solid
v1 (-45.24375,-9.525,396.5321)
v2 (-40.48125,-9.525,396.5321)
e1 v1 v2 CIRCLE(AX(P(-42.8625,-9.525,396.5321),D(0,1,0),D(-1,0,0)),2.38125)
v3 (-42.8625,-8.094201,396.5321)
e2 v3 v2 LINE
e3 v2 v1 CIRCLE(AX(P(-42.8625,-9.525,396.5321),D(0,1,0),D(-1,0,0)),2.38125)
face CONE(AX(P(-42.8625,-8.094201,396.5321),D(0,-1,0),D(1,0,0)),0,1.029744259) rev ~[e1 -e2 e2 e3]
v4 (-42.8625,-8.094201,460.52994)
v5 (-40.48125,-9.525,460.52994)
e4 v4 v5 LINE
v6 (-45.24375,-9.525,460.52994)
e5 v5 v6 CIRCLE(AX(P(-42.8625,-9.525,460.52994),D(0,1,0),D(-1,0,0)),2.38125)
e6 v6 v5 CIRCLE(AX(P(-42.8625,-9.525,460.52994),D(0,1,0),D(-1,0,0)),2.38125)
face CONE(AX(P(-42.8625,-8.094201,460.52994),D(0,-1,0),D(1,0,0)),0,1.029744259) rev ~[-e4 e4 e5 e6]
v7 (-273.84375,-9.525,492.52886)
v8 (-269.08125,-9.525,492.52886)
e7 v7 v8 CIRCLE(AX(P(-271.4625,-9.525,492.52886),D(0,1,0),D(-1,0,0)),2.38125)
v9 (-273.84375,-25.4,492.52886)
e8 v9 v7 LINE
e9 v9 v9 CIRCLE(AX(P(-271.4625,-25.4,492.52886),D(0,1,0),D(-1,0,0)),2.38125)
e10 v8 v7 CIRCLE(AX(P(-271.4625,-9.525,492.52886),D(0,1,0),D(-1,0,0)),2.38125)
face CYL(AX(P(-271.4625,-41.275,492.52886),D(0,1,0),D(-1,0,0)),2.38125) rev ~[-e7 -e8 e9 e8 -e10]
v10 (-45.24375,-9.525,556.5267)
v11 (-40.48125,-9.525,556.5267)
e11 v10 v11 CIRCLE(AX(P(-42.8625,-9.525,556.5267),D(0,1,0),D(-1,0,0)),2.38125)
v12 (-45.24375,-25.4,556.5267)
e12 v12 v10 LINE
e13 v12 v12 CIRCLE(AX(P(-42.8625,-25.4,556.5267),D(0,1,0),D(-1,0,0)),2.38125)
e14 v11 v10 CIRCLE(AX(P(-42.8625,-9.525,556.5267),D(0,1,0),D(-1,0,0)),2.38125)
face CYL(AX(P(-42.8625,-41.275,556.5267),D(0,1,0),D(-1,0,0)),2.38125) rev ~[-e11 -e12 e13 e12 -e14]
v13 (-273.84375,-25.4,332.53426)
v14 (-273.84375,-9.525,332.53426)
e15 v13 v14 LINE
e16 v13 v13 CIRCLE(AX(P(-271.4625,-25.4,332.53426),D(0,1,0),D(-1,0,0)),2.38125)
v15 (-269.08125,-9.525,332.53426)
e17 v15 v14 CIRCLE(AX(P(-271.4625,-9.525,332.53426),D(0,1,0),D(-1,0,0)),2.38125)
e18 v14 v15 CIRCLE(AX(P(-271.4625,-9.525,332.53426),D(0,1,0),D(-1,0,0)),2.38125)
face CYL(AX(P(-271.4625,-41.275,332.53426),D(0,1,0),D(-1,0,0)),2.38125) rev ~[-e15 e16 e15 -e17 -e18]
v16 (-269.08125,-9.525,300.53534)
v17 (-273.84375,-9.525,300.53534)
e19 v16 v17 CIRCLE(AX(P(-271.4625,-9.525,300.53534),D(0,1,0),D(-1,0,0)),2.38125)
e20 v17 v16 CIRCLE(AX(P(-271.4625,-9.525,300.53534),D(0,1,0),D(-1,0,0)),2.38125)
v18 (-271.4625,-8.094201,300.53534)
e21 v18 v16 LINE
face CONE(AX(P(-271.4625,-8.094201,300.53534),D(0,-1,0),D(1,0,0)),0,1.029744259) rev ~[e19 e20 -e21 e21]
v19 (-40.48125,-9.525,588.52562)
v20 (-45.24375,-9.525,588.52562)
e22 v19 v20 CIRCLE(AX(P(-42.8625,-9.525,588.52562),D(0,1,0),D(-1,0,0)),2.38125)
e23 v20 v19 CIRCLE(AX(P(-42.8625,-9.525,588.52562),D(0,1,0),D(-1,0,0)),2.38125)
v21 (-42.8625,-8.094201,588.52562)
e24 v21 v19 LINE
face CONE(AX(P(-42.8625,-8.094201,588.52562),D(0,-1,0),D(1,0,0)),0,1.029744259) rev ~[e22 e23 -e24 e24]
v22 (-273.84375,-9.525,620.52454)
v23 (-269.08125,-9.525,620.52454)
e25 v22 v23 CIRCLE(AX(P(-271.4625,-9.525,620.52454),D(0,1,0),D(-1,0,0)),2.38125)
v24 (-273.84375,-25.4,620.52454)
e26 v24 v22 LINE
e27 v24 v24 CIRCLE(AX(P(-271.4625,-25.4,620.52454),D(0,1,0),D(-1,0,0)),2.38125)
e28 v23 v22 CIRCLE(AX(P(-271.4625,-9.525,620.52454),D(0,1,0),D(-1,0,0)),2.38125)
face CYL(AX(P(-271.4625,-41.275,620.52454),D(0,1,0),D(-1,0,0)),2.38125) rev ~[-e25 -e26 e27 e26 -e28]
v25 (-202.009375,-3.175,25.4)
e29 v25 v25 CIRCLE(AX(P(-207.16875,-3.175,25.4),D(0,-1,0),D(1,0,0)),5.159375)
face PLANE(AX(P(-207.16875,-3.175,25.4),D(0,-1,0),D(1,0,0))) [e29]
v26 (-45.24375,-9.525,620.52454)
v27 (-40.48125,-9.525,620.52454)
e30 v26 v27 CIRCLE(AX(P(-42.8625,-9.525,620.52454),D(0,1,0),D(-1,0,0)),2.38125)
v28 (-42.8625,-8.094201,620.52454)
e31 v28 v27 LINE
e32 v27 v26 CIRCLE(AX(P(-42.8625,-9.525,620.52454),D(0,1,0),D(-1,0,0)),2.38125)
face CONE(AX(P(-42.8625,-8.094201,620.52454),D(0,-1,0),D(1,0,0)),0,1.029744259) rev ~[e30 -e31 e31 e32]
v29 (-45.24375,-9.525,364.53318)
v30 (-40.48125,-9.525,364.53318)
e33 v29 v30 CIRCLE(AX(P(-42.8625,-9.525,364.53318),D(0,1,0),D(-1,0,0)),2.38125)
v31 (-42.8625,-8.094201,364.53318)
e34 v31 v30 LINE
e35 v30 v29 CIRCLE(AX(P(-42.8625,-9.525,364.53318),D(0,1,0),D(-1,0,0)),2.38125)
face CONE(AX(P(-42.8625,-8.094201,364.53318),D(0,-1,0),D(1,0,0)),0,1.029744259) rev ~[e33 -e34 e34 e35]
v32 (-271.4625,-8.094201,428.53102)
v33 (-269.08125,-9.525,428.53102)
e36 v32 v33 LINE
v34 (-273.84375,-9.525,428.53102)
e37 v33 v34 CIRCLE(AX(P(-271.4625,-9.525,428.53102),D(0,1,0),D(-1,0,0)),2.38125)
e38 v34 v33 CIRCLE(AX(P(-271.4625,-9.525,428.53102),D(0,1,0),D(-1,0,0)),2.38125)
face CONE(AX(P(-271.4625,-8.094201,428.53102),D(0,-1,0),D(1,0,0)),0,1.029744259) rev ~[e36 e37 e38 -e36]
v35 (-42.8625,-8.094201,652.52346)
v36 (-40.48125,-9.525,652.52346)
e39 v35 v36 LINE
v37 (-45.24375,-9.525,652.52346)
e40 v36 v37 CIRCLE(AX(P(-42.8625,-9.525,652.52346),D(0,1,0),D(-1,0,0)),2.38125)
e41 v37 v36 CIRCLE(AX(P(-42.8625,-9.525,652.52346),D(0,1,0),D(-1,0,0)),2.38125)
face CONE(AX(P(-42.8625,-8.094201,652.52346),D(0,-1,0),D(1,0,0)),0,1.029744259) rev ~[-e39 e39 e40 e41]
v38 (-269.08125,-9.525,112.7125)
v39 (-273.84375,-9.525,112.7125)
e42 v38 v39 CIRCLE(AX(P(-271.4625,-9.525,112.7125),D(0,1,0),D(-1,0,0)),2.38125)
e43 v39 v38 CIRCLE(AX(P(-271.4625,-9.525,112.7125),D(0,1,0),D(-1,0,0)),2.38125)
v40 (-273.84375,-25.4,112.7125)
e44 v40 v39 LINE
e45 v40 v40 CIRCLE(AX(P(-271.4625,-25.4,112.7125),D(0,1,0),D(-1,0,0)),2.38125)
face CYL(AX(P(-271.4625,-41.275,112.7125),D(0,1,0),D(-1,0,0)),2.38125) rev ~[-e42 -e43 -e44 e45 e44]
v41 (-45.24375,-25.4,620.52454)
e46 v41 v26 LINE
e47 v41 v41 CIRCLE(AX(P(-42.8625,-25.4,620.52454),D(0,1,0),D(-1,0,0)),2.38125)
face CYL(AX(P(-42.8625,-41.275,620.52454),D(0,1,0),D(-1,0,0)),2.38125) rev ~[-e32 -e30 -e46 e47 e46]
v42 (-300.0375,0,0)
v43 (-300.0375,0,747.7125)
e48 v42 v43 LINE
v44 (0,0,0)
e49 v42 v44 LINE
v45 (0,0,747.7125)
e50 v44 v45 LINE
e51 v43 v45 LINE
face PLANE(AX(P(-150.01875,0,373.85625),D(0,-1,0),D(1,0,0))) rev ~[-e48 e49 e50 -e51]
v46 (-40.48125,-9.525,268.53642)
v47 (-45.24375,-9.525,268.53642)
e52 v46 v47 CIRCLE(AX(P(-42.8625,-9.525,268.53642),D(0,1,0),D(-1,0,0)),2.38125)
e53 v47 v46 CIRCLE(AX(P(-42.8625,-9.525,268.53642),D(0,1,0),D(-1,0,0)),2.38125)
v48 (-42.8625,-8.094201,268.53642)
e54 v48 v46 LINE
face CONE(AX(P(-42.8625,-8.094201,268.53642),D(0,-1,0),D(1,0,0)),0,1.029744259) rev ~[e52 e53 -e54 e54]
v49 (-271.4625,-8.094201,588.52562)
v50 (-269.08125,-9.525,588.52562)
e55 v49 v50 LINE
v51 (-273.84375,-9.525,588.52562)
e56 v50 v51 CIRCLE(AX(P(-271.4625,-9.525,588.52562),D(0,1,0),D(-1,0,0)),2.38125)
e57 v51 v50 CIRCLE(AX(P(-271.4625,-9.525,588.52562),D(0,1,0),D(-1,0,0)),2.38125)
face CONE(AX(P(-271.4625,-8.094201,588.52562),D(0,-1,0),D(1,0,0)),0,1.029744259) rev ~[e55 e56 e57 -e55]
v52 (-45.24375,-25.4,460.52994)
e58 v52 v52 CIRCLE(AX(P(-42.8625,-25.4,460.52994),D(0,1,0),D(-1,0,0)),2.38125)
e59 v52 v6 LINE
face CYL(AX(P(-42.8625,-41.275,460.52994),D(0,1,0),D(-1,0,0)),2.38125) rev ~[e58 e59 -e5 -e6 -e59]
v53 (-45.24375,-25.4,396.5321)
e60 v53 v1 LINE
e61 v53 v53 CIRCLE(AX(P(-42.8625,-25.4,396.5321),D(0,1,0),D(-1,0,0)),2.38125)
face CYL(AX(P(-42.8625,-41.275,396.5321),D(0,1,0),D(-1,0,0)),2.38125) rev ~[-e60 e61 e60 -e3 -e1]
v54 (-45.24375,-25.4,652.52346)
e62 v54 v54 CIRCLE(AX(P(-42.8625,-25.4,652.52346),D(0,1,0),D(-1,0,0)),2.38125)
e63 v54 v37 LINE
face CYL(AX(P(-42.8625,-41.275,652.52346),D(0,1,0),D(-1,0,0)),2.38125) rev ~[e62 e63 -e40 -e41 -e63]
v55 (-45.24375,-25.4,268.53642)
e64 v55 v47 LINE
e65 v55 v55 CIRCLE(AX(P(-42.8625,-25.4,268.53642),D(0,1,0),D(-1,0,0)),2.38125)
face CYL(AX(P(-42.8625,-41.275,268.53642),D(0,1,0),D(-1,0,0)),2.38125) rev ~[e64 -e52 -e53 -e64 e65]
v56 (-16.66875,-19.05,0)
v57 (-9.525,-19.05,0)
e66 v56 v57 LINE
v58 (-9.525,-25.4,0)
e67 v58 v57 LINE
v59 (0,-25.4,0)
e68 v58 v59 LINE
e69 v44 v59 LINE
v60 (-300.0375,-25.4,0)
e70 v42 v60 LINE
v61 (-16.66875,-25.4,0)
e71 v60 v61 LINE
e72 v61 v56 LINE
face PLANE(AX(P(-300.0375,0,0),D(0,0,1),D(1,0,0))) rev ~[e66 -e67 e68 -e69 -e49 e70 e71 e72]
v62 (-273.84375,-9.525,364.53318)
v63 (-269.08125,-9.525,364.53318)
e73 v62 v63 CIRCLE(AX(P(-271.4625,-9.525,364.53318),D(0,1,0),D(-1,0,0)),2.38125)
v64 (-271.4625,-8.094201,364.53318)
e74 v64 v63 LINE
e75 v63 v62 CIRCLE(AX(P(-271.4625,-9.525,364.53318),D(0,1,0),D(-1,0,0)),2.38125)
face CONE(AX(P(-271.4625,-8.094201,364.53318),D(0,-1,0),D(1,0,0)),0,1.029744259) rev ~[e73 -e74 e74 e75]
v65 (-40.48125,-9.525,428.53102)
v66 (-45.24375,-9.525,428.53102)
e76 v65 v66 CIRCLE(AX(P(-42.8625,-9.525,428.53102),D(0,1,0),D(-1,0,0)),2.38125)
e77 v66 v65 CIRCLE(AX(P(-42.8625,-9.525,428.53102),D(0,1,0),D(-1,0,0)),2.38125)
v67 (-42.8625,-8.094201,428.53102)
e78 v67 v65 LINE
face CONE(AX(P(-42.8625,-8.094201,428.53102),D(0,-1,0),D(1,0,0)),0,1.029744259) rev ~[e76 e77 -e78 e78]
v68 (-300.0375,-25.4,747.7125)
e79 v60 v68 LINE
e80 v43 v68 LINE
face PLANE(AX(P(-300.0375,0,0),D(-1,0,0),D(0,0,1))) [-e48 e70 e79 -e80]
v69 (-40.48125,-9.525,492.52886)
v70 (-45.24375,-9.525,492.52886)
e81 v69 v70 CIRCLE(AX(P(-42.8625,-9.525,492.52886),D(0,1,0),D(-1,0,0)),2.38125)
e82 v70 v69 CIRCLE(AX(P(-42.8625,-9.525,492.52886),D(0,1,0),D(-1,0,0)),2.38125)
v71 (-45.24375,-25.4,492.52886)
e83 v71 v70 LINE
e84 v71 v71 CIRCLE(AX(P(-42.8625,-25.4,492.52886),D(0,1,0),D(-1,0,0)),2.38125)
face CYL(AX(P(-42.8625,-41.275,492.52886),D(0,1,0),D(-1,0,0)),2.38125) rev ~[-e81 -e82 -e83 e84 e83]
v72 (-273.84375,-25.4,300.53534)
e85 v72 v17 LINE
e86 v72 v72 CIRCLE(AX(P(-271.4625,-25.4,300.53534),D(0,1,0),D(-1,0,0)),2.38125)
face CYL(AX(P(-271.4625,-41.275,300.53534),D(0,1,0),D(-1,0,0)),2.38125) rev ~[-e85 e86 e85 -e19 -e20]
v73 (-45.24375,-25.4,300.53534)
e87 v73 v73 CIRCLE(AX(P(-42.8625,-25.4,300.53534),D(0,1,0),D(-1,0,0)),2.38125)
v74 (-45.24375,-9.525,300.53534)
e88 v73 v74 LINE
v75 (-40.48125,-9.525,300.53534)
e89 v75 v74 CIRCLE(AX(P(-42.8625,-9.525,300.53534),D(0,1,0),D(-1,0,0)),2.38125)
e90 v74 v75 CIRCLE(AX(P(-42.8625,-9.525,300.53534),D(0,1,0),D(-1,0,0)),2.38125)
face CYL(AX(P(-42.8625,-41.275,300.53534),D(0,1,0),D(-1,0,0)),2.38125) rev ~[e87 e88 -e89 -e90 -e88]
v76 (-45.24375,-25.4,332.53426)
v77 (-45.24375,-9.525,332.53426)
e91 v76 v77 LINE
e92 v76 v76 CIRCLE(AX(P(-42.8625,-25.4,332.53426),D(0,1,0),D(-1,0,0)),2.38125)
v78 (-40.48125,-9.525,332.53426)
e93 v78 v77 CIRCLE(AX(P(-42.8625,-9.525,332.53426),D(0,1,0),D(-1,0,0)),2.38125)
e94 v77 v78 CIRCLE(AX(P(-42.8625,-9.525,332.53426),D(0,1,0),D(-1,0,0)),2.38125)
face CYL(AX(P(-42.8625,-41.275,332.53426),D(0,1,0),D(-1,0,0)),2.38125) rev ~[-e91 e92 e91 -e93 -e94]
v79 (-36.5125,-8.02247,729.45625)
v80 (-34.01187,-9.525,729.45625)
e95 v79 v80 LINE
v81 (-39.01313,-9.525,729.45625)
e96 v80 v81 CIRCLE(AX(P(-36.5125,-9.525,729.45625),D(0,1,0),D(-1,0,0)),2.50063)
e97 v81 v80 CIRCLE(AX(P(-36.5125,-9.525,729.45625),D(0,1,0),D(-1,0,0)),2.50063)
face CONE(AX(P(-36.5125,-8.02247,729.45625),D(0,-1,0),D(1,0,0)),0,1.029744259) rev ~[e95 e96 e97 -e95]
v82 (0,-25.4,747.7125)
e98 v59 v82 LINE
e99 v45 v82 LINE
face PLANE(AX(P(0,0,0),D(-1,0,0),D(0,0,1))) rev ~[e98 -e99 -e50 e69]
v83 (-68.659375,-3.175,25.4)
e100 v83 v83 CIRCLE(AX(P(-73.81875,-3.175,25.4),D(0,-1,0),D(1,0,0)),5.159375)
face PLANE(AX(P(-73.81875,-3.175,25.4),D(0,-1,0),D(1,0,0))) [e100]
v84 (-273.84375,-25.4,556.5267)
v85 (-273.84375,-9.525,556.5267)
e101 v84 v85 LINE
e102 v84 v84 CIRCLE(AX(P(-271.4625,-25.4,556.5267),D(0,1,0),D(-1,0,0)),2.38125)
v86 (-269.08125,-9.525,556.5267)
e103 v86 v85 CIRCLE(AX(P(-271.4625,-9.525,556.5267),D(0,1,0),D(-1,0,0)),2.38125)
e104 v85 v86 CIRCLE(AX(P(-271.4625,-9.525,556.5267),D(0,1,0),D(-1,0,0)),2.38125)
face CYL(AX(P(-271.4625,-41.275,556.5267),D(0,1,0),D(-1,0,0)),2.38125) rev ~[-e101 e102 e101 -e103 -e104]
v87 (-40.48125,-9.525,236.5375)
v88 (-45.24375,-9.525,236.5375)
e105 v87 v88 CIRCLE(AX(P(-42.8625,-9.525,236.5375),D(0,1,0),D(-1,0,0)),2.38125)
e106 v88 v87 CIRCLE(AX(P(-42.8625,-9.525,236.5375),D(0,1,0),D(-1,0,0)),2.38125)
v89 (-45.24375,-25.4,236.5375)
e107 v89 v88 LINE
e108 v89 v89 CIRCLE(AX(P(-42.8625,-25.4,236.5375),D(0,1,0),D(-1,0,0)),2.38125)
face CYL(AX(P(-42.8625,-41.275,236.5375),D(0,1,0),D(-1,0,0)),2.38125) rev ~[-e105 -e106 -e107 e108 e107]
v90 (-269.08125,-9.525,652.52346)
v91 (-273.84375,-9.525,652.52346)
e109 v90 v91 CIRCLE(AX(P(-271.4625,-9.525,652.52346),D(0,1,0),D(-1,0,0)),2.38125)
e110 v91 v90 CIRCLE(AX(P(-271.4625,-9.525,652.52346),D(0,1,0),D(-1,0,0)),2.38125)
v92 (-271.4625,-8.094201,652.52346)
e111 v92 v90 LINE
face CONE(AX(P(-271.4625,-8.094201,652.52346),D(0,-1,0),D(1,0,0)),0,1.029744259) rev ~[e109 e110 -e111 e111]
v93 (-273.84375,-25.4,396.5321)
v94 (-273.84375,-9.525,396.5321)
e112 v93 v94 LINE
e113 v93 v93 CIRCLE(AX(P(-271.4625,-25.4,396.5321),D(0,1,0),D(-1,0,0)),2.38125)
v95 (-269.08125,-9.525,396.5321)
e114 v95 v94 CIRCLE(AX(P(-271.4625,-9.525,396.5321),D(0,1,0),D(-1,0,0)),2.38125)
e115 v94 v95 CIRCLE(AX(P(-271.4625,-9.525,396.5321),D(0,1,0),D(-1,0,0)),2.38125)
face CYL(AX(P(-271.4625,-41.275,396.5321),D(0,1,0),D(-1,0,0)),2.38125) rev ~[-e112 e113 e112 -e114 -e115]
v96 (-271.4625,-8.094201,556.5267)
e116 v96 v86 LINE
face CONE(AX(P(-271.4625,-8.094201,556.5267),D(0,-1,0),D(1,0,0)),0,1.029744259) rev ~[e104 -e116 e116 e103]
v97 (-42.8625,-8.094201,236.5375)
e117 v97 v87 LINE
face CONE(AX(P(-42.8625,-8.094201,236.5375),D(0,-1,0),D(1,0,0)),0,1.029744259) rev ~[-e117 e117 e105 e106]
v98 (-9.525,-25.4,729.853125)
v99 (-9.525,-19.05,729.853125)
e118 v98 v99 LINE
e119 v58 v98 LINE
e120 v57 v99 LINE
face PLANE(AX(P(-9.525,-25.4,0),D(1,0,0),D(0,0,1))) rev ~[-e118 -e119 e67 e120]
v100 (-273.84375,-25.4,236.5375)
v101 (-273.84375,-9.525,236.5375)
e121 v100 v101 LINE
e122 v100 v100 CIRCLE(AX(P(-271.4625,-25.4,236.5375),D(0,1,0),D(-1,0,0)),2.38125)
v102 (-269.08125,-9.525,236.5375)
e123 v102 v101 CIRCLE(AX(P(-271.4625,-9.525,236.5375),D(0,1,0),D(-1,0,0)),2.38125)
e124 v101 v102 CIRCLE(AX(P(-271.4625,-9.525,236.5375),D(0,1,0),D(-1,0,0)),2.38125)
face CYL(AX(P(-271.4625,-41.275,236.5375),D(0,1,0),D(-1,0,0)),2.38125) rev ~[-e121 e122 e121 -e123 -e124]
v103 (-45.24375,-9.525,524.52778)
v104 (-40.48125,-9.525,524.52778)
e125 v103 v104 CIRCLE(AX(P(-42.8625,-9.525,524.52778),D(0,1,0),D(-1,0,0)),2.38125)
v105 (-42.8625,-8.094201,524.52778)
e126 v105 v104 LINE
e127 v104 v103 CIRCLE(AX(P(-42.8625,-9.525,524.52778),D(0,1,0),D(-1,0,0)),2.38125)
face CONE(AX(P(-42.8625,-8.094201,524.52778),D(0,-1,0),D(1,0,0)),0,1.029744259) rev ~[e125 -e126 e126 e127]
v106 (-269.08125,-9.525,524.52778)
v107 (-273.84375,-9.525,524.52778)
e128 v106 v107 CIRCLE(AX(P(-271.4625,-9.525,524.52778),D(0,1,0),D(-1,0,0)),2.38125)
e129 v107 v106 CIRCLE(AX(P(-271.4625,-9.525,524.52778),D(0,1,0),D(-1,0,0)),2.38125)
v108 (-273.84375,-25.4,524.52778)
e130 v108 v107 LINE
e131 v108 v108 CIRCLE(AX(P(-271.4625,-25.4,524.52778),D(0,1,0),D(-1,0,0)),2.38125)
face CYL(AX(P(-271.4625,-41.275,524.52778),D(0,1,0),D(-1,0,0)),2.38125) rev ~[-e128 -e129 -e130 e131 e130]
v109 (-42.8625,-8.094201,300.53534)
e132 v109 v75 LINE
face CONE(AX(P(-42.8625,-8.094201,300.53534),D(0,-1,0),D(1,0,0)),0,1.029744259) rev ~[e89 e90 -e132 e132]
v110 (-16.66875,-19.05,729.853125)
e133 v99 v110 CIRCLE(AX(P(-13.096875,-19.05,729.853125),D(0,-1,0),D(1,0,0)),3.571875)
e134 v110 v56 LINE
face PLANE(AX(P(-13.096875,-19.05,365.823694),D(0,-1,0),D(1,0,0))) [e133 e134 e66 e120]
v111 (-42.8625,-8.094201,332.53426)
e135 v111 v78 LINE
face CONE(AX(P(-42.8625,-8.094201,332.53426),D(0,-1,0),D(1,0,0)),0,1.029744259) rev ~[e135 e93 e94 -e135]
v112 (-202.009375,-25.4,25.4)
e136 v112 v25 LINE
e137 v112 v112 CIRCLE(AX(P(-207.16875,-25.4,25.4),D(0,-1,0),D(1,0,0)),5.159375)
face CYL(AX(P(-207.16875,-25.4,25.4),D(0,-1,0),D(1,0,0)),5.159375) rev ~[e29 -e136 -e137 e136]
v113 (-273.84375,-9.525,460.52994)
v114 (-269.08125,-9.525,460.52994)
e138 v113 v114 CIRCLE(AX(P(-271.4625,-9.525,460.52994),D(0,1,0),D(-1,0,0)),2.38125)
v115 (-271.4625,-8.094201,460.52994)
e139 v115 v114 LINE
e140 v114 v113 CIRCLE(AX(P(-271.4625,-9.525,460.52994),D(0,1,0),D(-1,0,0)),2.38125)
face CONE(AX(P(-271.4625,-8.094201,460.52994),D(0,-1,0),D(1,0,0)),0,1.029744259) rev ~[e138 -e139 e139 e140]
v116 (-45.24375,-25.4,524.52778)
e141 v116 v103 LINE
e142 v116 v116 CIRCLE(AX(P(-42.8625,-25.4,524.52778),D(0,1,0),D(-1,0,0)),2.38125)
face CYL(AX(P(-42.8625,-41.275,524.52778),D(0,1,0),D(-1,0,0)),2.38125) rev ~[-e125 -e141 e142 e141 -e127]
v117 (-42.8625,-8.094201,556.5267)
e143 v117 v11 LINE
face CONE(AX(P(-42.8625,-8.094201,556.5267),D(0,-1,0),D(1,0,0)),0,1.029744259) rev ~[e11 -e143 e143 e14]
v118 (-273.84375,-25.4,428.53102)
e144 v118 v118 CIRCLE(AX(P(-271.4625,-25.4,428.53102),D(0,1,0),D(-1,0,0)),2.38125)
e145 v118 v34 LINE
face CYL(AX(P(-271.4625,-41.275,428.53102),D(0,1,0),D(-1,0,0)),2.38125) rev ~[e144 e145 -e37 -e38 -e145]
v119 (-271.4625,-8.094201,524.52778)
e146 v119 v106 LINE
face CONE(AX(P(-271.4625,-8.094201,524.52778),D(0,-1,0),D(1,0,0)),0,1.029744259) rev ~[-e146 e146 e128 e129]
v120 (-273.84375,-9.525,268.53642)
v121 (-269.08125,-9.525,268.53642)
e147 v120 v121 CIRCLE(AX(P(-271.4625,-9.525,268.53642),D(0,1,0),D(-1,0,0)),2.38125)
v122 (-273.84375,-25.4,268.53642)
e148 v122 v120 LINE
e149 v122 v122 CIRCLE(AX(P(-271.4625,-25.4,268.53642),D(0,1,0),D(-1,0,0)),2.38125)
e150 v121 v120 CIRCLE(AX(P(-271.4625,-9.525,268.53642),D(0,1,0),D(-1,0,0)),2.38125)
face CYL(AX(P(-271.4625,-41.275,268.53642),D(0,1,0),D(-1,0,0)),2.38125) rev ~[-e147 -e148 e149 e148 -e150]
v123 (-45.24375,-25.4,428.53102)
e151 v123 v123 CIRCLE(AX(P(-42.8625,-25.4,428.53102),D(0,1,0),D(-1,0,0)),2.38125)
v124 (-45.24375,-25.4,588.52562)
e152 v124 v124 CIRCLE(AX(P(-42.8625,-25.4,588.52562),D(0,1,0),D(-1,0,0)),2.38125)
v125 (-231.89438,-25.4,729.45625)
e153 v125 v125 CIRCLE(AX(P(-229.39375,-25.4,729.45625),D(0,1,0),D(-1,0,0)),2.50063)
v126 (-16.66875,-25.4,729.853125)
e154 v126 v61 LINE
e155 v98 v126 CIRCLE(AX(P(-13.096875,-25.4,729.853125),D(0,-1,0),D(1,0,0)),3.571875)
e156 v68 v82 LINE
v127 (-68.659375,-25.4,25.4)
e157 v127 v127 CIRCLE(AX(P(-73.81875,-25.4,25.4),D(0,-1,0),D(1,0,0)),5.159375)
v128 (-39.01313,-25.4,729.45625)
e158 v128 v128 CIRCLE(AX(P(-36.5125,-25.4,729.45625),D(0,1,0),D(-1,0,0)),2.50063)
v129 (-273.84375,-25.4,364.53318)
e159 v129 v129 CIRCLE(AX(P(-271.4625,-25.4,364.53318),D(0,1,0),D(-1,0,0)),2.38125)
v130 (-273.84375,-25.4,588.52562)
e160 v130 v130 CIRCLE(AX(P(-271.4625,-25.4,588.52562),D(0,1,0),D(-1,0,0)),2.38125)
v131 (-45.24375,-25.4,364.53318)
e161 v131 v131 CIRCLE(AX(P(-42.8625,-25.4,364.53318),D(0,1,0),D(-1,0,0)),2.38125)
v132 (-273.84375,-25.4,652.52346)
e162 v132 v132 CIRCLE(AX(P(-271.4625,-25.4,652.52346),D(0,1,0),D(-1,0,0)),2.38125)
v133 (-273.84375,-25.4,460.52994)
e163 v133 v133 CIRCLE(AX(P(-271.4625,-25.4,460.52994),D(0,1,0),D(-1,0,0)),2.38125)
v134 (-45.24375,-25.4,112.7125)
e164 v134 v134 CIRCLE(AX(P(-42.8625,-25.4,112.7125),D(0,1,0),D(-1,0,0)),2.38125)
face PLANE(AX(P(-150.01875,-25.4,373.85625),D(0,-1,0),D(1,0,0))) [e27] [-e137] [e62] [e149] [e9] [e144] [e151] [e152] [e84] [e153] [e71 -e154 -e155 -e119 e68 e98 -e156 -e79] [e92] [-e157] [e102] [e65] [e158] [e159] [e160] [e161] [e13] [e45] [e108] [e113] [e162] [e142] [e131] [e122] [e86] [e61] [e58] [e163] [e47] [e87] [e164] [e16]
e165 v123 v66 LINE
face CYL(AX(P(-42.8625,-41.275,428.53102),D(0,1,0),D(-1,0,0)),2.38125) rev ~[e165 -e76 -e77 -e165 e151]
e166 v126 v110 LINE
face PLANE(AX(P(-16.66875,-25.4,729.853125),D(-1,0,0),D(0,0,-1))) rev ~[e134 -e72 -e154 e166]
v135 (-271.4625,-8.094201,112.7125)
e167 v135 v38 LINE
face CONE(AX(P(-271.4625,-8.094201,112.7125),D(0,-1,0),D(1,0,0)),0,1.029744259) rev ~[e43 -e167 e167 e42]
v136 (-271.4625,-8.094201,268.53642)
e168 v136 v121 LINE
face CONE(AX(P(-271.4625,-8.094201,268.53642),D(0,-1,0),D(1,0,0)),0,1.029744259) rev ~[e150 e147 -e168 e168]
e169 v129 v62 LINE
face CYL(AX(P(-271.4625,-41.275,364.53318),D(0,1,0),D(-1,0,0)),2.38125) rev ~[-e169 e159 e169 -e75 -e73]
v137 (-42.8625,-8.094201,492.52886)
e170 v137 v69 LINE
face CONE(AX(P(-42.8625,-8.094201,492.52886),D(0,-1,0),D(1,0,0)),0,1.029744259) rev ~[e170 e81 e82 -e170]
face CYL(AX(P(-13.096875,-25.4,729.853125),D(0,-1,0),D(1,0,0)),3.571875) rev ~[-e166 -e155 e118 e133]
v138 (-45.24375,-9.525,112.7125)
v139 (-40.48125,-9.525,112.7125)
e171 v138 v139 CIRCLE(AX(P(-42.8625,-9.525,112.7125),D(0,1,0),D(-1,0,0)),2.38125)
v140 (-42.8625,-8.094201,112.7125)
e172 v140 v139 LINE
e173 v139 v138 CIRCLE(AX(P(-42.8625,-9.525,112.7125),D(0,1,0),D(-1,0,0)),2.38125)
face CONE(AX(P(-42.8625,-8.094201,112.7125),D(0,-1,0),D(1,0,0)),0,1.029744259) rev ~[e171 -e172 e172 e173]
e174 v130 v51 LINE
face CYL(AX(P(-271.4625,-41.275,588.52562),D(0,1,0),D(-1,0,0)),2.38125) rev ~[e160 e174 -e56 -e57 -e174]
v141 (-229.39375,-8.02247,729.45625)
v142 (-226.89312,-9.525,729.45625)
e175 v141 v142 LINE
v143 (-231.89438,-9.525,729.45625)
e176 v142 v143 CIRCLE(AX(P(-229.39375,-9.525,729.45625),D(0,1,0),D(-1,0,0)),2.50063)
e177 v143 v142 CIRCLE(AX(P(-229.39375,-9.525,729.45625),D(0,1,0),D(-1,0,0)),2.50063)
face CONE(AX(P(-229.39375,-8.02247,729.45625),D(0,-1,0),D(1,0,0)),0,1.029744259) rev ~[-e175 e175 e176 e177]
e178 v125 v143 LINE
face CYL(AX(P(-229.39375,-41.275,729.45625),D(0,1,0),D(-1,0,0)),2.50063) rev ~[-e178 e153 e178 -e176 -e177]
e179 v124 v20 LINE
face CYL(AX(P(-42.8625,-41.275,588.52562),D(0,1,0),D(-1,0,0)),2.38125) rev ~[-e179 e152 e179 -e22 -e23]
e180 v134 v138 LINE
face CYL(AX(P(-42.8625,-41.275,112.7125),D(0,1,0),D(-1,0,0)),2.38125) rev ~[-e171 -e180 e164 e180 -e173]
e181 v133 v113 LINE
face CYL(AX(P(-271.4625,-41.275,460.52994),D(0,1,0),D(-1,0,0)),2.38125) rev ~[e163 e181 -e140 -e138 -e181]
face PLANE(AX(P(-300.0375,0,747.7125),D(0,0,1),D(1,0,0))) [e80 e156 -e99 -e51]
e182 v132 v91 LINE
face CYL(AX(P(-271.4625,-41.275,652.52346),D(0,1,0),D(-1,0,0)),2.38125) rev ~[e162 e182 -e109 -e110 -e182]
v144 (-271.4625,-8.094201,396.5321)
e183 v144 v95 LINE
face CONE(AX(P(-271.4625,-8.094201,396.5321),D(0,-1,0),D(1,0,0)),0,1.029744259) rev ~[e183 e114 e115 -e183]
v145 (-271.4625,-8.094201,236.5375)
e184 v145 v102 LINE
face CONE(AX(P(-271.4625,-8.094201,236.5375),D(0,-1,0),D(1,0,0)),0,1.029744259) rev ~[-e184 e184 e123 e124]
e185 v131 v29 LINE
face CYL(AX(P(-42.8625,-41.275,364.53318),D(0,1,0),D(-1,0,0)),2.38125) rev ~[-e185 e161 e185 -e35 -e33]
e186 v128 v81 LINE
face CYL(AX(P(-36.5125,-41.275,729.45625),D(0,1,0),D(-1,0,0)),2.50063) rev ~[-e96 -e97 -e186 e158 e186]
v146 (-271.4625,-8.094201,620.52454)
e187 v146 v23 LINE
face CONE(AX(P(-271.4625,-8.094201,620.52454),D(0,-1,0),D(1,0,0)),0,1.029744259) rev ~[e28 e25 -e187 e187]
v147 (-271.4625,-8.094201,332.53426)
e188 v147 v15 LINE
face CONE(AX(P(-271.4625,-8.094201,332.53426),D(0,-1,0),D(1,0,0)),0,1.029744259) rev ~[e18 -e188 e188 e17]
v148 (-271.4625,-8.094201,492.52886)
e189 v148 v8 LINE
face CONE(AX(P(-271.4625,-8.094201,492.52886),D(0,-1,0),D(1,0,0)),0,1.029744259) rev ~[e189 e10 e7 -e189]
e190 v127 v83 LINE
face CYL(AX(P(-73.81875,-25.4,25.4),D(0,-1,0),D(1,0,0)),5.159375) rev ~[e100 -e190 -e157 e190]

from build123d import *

# Parameters (mm, degrees)
F0_W     = 300.0375
F0_H     = 747.7125
F1_DEPTH = 25.4
F3_D     = 4.7625
F3_DEPTH = 15.875
F3_TIP   = 1.4307993491
F5_DEPTH = 6.35
F6_R     = 5.159375
F7_DEPTH = 22.225
F9_D     = 5.00126
F9_DEPTH = 15.875
F9_TIP   = 1.5025300898


with BuildPart() as f1:
    # F0 (on Front) → F1 (new body)
    with BuildSketch(Plane.XZ):
        with Locations((-150.01875, 373.85625)):
            Rectangle(F0_W, F0_H)
    extrude(amount=F1_DEPTH)

    # F3
    with Locations(Plane.XZ.offset(25.4)):
        with Locations((-271.4625, 112.7125), (-42.8625, 112.7125), (-271.4625, 236.5375), (-271.4625, 268.53642), (-42.8625, 236.5375), (-42.8625, 268.53642), (-42.8625, 300.53534), (-271.4625, 300.53534), (-271.4625, 332.53426), (-271.4625, 364.53318), (-271.4625, 396.5321), (-271.4625, 428.53102), (-271.4625, 460.52994), (-271.4625, 492.52886), (-271.4625, 524.52778), (-271.4625, 556.5267), (-271.4625, 620.52454), (-271.4625, 652.52346), (-42.8625, 332.53426), (-42.8625, 364.53318), (-42.8625, 396.5321), (-42.8625, 428.53102), (-42.8625, 364.53318), (-42.8625, 460.52994), (-42.8625, 492.52886), (-42.8625, 524.52778), (-42.8625, 556.5267), (-42.8625, 588.52562), (-42.8625, 620.52454), (-42.8625, 652.52346), (-271.4625, 588.52562)):
            Hole(F3_D / 2, depth=F3_DEPTH)
            with Locations((0, 0, -(F3_DEPTH + F3_TIP / 2))):  # 118° drill point
                Cone(0, F3_D / 2, F3_TIP, mode=Mode.SUBTRACT)

    # F4 (on face) → F5 (cut)
    with BuildSketch(Plane.XZ.offset(25.4)):
        with BuildLine():
            Line((-16.66875, 0), (-9.525, 0))
            Line((-9.525, 0), (-9.525, 729.853125))
            ThreePointArc((-9.525, 729.853125), (-13.096875, 733.425), (-16.66875, 729.853125))
            Line((-16.66875, 729.853125), (-16.66875, 0))
        make_face()
    extrude(amount=-F5_DEPTH, mode=Mode.SUBTRACT)

    # F6 (on face) → F7 (cut)
    with BuildSketch(Plane.XZ.offset(25.4)):
        with Locations((-73.81875, 25.4)):
            Circle(F6_R)
        with Locations((-207.16875, 25.4)):
            Circle(F6_R)
    extrude(amount=-F7_DEPTH, mode=Mode.SUBTRACT)

    # F9
    with Locations(Plane.XZ.offset(25.4)):
        with Locations((-229.39375, 729.45625), (-36.5125, 729.45625)):
            Hole(F9_D / 2, depth=F9_DEPTH)
            with Locations((0, 0, -(F9_DEPTH + F9_TIP / 2))):  # 118° drill point
                Cone(0, F9_D / 2, F9_TIP, mode=Mode.SUBTRACT)


solid = f1.part
